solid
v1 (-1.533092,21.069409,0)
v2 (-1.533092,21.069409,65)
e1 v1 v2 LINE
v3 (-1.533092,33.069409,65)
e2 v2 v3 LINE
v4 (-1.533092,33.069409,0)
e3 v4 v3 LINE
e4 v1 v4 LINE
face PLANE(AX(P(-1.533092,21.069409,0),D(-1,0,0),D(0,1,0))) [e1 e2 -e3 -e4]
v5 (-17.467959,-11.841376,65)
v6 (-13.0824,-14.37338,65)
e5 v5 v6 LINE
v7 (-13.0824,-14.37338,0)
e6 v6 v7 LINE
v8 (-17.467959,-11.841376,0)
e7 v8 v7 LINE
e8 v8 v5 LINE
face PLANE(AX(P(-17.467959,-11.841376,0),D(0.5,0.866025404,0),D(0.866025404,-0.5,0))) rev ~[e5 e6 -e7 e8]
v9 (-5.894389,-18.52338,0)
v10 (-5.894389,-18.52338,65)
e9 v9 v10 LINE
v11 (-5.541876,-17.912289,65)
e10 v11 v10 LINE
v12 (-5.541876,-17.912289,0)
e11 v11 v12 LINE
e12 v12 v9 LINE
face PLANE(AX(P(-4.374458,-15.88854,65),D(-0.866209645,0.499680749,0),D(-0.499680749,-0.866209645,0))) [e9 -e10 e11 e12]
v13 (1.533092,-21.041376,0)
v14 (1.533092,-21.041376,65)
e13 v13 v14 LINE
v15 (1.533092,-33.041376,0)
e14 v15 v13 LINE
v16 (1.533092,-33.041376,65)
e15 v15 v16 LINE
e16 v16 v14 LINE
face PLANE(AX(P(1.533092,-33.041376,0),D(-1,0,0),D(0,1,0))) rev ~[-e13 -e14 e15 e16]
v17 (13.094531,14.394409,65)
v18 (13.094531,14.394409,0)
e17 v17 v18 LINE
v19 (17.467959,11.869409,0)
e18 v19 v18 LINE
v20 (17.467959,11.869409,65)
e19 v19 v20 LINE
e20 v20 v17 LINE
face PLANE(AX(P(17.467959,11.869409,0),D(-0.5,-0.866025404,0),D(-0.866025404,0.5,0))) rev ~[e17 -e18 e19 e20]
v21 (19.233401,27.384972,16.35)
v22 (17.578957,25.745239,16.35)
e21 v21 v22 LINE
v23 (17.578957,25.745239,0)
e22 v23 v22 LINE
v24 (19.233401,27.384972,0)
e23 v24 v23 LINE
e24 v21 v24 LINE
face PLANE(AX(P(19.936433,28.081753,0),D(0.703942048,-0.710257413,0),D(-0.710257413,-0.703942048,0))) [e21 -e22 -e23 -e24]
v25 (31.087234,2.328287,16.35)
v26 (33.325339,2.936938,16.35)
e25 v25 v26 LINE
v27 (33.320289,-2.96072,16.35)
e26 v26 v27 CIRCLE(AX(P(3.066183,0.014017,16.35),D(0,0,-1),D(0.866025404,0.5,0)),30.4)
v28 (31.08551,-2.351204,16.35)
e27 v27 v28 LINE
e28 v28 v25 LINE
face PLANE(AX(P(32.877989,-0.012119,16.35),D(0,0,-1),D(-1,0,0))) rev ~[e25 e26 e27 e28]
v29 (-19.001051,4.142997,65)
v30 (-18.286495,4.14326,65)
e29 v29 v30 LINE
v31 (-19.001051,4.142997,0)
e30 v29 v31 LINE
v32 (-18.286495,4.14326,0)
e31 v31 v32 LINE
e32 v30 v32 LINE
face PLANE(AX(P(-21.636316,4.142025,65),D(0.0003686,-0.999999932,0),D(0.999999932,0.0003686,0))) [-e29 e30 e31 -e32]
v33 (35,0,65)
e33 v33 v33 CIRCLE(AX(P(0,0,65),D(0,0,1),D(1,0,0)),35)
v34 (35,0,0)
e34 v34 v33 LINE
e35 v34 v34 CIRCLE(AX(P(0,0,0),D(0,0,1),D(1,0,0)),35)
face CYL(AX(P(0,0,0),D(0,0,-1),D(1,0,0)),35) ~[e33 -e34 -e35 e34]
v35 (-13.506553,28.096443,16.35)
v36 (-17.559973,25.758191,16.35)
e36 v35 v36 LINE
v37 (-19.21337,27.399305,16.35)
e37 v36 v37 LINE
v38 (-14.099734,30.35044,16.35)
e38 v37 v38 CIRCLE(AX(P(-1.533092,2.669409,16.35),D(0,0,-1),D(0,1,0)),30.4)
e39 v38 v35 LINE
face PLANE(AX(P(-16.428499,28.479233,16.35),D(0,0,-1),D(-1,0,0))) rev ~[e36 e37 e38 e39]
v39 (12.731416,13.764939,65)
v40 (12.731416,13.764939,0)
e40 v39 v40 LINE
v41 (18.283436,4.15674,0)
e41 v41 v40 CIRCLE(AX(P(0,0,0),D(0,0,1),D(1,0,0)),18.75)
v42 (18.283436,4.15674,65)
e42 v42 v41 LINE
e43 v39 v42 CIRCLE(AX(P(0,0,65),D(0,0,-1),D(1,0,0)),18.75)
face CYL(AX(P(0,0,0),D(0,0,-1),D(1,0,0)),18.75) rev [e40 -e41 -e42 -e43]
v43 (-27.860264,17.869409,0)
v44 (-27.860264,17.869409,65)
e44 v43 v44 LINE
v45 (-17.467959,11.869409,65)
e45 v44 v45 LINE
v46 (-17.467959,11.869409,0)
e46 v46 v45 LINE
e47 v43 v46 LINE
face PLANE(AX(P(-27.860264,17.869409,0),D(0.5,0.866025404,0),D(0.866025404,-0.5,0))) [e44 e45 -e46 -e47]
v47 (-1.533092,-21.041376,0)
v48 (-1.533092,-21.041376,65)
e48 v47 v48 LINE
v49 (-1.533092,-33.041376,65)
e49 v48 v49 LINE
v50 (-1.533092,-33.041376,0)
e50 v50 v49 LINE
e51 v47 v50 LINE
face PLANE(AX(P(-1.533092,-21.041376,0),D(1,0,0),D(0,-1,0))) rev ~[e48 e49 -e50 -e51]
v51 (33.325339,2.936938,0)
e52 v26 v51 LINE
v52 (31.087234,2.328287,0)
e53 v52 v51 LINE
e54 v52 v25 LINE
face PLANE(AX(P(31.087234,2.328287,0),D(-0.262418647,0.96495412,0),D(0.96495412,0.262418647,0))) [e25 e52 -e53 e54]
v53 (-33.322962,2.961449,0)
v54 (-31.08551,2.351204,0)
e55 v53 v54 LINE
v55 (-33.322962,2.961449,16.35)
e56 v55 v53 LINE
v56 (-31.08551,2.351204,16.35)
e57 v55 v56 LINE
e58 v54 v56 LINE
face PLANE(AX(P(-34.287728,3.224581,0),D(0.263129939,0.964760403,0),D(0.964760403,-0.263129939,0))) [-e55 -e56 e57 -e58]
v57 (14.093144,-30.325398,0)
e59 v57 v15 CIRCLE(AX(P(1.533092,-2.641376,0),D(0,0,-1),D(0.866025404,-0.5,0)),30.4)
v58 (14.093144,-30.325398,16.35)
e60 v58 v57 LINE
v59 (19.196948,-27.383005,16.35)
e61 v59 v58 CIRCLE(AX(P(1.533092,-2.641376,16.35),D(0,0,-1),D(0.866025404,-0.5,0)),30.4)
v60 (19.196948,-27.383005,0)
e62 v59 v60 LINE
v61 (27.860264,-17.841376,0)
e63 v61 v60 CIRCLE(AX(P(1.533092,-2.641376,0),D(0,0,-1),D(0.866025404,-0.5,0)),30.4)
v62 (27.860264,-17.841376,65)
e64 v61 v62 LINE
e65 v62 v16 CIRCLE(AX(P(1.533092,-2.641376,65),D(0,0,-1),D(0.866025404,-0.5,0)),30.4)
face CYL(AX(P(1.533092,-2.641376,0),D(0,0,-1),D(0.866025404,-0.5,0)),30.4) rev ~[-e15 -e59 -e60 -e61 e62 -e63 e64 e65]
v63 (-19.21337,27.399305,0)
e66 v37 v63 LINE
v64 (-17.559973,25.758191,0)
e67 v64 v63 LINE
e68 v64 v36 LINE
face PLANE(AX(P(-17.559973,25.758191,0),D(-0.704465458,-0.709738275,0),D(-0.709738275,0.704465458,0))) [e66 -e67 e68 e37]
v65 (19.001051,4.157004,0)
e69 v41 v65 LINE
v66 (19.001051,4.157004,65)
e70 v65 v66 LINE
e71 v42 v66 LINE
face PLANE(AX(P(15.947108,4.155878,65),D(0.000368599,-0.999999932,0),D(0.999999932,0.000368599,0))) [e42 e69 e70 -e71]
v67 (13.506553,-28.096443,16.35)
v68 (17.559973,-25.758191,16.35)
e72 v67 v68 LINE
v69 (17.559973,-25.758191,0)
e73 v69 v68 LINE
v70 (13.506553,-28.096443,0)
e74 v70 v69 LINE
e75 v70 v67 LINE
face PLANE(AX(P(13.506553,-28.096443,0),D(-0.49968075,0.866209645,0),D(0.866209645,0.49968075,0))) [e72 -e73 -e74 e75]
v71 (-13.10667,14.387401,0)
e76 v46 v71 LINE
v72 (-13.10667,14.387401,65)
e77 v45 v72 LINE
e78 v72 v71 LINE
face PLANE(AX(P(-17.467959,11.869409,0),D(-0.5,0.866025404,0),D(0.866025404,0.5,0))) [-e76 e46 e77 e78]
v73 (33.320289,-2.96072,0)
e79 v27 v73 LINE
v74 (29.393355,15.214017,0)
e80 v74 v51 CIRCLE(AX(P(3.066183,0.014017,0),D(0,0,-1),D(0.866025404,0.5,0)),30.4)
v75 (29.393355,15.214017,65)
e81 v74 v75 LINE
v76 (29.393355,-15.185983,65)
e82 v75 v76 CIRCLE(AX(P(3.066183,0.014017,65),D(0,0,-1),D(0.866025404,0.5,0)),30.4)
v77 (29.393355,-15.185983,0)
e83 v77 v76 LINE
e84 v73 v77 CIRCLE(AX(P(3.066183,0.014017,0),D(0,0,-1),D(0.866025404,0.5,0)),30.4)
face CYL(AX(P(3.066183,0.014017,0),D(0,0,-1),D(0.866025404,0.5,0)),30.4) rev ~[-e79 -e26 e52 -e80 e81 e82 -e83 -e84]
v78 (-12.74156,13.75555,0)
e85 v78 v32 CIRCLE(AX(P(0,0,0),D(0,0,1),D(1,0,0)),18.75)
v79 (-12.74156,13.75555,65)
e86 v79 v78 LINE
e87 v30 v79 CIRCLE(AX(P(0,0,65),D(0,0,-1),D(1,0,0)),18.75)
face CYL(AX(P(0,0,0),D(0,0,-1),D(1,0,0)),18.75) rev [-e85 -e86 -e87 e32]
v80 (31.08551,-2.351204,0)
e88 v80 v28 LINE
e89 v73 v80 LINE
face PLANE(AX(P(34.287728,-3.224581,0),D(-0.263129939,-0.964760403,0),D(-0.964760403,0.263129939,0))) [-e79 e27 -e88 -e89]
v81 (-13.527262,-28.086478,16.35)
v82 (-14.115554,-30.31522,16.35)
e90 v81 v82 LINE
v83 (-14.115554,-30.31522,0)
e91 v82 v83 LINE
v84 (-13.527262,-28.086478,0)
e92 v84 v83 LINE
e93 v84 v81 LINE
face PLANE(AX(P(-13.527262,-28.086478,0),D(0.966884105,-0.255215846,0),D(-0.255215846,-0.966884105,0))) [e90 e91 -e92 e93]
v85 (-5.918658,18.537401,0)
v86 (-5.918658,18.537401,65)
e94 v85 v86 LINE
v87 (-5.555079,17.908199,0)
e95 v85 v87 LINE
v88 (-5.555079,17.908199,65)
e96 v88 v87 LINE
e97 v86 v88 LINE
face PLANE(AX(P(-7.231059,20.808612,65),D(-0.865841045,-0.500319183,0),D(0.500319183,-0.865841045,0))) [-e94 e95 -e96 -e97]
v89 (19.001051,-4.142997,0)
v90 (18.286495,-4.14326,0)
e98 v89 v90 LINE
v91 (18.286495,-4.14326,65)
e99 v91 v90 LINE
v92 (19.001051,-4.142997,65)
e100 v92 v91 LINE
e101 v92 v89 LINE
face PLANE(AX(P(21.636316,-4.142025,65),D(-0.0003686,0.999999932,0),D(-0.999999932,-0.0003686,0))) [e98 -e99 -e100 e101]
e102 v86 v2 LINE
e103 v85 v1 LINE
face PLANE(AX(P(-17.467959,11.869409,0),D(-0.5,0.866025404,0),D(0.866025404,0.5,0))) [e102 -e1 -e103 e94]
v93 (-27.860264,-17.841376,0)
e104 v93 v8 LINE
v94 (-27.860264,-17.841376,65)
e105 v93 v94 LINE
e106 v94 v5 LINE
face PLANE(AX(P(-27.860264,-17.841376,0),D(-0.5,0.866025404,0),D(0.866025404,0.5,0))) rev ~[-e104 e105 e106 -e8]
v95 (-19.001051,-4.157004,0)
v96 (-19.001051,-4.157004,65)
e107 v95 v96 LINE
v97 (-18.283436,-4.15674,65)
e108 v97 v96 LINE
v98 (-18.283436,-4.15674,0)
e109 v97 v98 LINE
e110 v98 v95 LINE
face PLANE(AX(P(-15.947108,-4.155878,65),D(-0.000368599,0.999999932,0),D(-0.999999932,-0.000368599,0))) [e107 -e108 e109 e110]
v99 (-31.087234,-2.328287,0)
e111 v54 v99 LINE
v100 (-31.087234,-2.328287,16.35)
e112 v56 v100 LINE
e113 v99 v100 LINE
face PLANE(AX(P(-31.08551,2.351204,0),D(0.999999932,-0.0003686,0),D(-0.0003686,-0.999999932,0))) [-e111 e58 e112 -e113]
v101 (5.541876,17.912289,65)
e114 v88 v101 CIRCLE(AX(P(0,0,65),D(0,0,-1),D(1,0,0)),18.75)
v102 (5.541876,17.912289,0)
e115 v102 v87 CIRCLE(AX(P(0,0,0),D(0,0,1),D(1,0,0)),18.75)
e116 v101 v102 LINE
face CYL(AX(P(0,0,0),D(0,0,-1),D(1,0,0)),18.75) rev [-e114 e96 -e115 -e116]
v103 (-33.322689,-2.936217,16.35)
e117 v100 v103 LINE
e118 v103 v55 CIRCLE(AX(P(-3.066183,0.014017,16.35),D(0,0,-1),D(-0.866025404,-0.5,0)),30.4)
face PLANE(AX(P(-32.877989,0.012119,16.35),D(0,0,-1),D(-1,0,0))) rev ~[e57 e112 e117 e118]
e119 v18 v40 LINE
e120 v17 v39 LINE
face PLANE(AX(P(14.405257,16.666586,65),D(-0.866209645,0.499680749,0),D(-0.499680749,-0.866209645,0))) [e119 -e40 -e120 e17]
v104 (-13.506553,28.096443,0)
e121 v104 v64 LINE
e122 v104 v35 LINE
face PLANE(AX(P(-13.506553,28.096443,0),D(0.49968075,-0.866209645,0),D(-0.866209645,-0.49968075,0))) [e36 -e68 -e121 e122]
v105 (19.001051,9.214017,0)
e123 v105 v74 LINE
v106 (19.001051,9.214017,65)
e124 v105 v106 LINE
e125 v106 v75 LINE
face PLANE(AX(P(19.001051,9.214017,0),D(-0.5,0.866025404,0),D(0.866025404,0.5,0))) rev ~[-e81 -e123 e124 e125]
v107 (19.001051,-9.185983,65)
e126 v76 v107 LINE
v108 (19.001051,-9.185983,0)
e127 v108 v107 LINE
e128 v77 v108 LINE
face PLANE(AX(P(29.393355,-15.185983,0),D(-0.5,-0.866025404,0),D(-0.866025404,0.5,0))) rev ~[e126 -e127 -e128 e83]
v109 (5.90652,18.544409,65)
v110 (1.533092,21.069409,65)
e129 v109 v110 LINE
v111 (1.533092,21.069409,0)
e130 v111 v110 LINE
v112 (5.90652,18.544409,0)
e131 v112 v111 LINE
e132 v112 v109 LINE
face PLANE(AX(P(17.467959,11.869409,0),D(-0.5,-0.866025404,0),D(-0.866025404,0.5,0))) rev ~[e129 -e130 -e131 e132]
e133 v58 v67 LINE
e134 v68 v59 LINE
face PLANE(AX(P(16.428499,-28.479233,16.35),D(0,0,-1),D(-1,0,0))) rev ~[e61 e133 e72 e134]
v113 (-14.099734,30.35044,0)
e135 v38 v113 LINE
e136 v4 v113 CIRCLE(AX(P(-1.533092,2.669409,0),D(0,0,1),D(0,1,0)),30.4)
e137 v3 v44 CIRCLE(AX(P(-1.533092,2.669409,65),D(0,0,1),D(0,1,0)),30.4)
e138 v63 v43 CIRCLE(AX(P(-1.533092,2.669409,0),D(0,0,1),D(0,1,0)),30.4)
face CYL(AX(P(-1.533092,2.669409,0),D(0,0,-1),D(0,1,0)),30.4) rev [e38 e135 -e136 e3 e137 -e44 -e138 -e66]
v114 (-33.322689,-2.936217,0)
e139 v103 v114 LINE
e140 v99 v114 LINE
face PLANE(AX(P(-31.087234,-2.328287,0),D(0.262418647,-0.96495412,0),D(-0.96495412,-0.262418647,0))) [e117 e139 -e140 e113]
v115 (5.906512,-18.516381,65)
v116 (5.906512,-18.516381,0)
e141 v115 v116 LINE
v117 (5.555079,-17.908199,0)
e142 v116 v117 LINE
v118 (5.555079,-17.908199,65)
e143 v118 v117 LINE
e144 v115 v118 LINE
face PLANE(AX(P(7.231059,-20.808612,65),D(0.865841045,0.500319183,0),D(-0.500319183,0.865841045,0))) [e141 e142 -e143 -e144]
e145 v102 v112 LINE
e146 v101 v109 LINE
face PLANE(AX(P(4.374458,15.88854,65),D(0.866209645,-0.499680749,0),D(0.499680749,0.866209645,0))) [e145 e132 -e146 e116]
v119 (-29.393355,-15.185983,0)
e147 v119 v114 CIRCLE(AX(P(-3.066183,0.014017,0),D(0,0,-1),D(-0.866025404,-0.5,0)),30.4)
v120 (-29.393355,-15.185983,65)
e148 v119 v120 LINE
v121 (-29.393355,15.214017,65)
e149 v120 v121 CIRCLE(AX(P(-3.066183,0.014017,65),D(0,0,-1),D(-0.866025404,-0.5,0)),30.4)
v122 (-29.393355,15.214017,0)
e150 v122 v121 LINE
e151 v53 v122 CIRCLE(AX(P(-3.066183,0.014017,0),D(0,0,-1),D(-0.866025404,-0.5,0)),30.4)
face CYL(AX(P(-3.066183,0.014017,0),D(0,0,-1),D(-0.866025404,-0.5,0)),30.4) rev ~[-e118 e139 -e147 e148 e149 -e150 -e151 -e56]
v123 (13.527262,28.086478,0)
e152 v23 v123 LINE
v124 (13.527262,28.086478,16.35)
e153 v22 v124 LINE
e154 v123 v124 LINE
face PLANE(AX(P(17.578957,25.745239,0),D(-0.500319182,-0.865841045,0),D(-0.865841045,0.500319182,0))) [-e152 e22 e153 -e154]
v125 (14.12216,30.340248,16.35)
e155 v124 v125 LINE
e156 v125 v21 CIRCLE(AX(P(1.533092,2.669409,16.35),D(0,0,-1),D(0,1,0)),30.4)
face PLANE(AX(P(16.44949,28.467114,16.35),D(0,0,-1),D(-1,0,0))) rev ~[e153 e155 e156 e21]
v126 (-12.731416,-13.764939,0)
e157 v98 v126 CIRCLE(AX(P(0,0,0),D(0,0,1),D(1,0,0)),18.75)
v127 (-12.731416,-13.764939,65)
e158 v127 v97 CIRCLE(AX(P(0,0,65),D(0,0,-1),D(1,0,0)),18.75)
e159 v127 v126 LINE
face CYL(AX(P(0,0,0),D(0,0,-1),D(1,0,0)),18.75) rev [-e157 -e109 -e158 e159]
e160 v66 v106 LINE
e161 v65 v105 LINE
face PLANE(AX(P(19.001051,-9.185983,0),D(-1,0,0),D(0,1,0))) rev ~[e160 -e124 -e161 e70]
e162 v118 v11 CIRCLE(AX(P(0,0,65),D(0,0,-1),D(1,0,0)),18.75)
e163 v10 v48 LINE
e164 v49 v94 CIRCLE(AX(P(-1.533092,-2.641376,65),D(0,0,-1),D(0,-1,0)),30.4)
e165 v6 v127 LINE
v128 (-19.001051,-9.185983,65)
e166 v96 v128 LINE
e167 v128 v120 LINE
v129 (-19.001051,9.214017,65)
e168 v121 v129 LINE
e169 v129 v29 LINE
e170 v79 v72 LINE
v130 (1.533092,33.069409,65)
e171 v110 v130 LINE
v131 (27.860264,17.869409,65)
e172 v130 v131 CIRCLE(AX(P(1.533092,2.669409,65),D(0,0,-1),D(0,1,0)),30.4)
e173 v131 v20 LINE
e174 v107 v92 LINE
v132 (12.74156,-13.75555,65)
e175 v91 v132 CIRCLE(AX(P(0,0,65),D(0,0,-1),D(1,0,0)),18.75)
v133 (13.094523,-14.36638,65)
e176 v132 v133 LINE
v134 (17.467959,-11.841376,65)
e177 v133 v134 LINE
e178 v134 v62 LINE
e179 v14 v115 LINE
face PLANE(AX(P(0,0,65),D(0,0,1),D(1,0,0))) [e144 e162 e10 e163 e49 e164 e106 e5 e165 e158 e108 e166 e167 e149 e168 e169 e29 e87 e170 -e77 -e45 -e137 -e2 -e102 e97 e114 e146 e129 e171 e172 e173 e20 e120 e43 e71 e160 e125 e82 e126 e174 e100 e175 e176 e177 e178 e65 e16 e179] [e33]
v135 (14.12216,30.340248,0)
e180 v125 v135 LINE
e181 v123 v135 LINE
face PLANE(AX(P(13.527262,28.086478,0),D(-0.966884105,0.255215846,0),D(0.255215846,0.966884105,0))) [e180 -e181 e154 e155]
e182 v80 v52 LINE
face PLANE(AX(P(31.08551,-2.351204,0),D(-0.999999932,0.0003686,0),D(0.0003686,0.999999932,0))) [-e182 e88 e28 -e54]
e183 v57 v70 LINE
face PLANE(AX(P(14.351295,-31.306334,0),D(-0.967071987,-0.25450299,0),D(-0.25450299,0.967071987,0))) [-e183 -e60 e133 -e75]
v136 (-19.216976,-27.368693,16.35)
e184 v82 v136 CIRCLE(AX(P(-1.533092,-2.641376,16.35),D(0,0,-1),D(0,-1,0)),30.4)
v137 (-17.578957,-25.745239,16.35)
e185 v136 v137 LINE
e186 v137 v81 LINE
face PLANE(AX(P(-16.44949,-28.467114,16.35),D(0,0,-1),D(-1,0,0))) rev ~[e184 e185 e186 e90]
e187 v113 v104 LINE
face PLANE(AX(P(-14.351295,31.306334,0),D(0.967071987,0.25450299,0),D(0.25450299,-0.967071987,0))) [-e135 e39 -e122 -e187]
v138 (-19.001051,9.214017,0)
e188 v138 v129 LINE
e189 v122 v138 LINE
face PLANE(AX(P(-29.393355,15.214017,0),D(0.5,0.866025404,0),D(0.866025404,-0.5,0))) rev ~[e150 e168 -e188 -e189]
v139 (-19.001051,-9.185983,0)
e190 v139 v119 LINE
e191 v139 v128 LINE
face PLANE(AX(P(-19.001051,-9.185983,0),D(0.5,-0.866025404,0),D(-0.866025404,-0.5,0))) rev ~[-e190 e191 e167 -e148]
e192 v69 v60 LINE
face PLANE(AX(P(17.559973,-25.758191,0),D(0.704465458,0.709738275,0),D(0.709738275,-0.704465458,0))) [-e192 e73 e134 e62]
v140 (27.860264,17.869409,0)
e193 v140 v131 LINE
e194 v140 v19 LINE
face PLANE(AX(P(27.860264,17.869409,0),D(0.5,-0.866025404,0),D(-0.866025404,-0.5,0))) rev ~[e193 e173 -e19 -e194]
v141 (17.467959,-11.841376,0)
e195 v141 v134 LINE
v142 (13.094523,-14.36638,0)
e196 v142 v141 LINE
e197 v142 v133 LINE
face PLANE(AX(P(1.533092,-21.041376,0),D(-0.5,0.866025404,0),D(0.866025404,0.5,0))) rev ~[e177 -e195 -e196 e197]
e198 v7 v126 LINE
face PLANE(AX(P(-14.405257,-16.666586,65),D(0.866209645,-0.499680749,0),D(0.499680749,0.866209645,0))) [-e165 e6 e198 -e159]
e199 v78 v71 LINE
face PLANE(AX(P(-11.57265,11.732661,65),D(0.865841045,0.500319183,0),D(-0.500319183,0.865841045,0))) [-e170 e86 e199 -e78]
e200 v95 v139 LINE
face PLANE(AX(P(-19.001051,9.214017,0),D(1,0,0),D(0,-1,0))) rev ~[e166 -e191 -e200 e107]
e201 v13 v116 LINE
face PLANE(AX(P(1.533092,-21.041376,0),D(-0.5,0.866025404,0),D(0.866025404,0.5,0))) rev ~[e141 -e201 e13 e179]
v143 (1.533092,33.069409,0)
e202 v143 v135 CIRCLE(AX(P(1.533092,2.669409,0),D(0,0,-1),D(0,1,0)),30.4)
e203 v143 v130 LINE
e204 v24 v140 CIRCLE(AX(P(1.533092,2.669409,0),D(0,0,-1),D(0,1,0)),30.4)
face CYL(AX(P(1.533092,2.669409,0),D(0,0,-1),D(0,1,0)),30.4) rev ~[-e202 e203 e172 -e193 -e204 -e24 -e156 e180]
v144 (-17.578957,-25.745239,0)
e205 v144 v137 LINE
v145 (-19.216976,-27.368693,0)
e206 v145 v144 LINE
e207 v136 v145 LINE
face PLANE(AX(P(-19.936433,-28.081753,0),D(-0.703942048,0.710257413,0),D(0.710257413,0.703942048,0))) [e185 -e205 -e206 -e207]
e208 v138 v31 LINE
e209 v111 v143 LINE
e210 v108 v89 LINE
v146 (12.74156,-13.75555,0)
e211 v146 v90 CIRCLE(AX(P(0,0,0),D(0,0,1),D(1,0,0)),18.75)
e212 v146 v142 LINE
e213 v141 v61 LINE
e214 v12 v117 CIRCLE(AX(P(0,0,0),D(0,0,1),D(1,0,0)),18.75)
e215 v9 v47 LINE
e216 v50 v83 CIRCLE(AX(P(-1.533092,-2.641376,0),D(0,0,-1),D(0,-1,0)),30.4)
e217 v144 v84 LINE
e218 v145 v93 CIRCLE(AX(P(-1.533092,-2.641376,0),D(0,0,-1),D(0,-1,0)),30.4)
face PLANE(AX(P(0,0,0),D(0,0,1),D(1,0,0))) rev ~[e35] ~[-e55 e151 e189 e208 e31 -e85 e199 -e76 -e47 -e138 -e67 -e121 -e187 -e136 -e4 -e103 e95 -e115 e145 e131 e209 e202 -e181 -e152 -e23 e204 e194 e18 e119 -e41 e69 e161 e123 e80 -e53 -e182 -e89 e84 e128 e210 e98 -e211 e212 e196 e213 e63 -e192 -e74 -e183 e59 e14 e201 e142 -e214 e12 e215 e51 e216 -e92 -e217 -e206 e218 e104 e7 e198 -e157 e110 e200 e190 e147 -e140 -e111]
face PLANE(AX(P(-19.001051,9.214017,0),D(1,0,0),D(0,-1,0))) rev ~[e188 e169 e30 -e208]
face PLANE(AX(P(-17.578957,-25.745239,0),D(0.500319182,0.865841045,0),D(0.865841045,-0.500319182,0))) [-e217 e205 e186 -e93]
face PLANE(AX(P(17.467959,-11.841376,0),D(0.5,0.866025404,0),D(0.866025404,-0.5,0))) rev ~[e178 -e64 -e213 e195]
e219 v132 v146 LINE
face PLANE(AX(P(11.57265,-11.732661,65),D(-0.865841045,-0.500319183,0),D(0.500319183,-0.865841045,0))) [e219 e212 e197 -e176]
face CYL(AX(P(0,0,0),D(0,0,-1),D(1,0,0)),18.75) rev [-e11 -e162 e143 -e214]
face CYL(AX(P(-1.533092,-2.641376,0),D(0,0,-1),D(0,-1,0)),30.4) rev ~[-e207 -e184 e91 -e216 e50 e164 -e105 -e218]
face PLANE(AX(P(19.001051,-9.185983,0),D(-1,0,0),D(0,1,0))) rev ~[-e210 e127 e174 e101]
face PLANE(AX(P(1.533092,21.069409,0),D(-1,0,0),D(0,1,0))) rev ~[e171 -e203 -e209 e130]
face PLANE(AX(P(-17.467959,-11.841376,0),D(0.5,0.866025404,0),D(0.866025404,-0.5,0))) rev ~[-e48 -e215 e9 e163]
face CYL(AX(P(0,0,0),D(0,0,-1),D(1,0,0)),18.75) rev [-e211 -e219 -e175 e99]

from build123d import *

# Parameters (mm, degrees)
MOTOR_BASE_R                    = 35
STATOR_SHELL_DEPTH              = 65
MOTOR_BASE_4_R                  = 18.75
CUT_EXTRUDE1_DEPTH              = 82.700673192
STATOR_LAMINATION_SUPPORT_DEPTH = 16.35
CUT_EXTRUDE3_DEPTH              = 82.700673192


with BuildPart() as part:
    # Motor_Base → Stator_Shell (new body)
    with BuildSketch(Plane.XY):
        Circle(MOTOR_BASE_R)
        with BuildLine():
            Line((1.533091596, 21.069409042), (1.533091596, 33.069409042))
            ThreePointArc((1.533091596, 33.069409042), (16.733091596, 28.996581317), (27.860263871, 17.869409042))
            Line((27.860263871, 17.869409042), (17.467959025, 11.869409042))
            Line((17.467959025, 11.869409042), (1.533091596, 21.069409042))
        make_face(mode=Mode.SUBTRACT)
        with BuildLine():
            Line((-1.533091596, 21.069409042), (-1.533091596, 33.069409042))
            ThreePointArc((-1.533091596, 33.069409042), (-16.733091596, 28.996581317), (-27.860263871, 17.869409042))
            Line((-27.860263871, 17.869409042), (-17.467959025, 11.869409042))
            Line((-17.467959025, 11.869409042), (-1.533091596, 21.069409042))
        make_face(mode=Mode.SUBTRACT)
        with BuildLine():
            Line((19.001050621, 9.214016506), (29.393355467, 15.214016506))
            ThreePointArc((29.393355467, 15.214016506), (33.466183191, 0.014016506), (29.393355467, -15.185983494))
            Line((29.393355467, -15.185983494), (19.001050621, -9.185983494))
            Line((19.001050621, -9.185983494), (19.001050621, 9.214016506))
        make_face(mode=Mode.SUBTRACT)
        with BuildLine():
            Line((17.467959025, -11.841376031), (27.860263871, -17.841376031))
            ThreePointArc((27.860263871, -17.841376031), (16.733091596, -28.968548306), (1.533091596, -33.041376031))
            Line((1.533091596, -33.041376031), (1.533091596, -21.041376031))
            Line((1.533091596, -21.041376031), (17.467959025, -11.841376031))
        make_face(mode=Mode.SUBTRACT)
        with BuildLine():
            Line((-1.533091596, -21.041376031), (-1.533091596, -33.041376031))
            ThreePointArc((-1.533091596, -33.041376031), (-16.733091596, -28.968548306), (-27.860263871, -17.841376031))
            Line((-27.860263871, -17.841376031), (-17.467959025, -11.841376031))
            Line((-17.467959025, -11.841376031), (-1.533091596, -21.041376031))
        make_face(mode=Mode.SUBTRACT)
        with BuildLine():
            Line((-19.001050621, -9.185983494), (-29.393355467, -15.185983494))
            ThreePointArc((-29.393355467, -15.185983494), (-33.466183191, 0.014016506), (-29.393355467, 15.214016506))
            Line((-29.393355467, 15.214016506), (-19.001050621, 9.214016506))
            Line((-19.001050621, 9.214016506), (-19.001050621, -9.185983494))
        make_face(mode=Mode.SUBTRACT)
    extrude(amount=STATOR_SHELL_DEPTH)

    # Motor_Base<4> → Cut-Extrude1 (cut, through all)
    with BuildSketch(Plane.XY):
        Circle(MOTOR_BASE_4_R)
    extrude(amount=CUT_EXTRUDE1_DEPTH, mode=Mode.SUBTRACT)

    # Stator_Lam_Support → Stator Lamination Support (add)
    with BuildSketch(Plane(origin=(0, 0, 0), x_dir=(-1, 0, 0), z_dir=(0, 0, -1))):
        with BuildLine():
            Line((14.351295245, 31.306334292), (13.506552589, 28.096442893))
            Line((13.506552589, 28.096442893), (17.559972866, 25.758191299))
            Line((17.559972866, 25.758191299), (19.915725917, 28.096442893))
            ThreePointArc((19.915725917, 28.096442893), (17.208516366, 29.831413083), (14.351295245, 31.306334292))
        make_face()
        with BuildLine():
            Line((34.287728419, 3.224580887), (31.085509595, 2.351203787))
            Line((31.085509595, 2.351203787), (31.087234454, -2.328286942))
            Line((31.087234454, -2.328286942), (34.29009626, -3.199303133))
            ThreePointArc((34.29009626, -3.199303133), (34.439019743, 0.012694207), (34.287728419, 3.224580887))
        make_face()
        with BuildLine():
            Line((19.936433174, -28.081753405), (17.578957007, -25.745239106))
            Line((17.578957007, -25.745239106), (13.527261587, -28.086478241))
            Line((13.527261587, -28.086478241), (14.374370343, -31.295746025))
            ThreePointArc((14.374370343, -31.295746025), (17.230503377, -29.818718876), (19.936433174, -28.081753405))
        make_face()
        with BuildLine():
            Line((-14.351295245, -31.306334292), (-13.506552589, -28.096442893))
            Line((-13.506552589, -28.096442893), (-17.559972866, -25.758191299))
            Line((-17.559972866, -25.758191299), (-19.915725917, -28.096442893))
            ThreePointArc((-19.915725917, -28.096442893), (-17.208516366, -29.831413083), (-14.351295245, -31.306334292))
        make_face()
        with BuildLine():
            Line((-34.287728419, -3.224580887), (-31.085509595, -2.351203787))
            Line((-31.085509595, -2.351203787), (-31.087234454, 2.328286942))
            Line((-31.087234454, 2.328286942), (-34.29009626, 3.199303133))
            ThreePointArc((-34.29009626, 3.199303133), (-34.439019743, -0.012694207), (-34.287728419, -3.224580887))
        make_face()
        with BuildLine():
            Line((-19.936433174, 28.081753405), (-17.578957007, 25.745239106))
            Line((-17.578957007, 25.745239106), (-13.527261587, 28.086478241))
            Line((-13.527261587, 28.086478241), (-14.374370343, 31.295746025))
            ThreePointArc((-14.374370343, 31.295746025), (-17.230503377, 29.818718876), (-19.936433174, 28.081753405))
        make_face()
    extrude(amount=-STATOR_LAMINATION_SUPPORT_DEPTH)

    # Sketch6 → Cut-Extrude3 (cut, through all)
    with BuildSketch(Plane.XY.offset(65)):
        Polygon((14.405256844, 16.666586459), (11.56399771, 11.741189457), (4.374457659, 15.888539677), (7.215716793, 20.813936679), align=None)
        Polygon((21.633256314, 4.15797429), (21.63631569, -4.142025146), (15.950167195, -4.144121058), (15.947107819, 4.155878379), align=None)
        Polygon((14.417539521, -16.655962389), (7.231058845, -20.808611605), (4.386169485, -15.885310514), (11.57265016, -11.732661299), align=None)
        Polygon((-7.215716793, -20.813936679), (-14.405256844, -16.666586459), (-11.56399771, -11.741189457), (-4.374457659, -15.888539677), align=None)
        Polygon((-21.633256314, -4.15797429), (-21.63631569, 4.142025146), (-15.950167195, 4.144121058), (-15.947107819, -4.155878379), align=None)
        Polygon((-14.417539521, 16.655962389), (-7.231058845, 20.808611605), (-4.386169485, 15.885310514), (-11.57265016, 11.732661299), align=None)
    extrude(amount=-CUT_EXTRUDE3_DEPTH, mode=Mode.SUBTRACT)


solid = part.part
